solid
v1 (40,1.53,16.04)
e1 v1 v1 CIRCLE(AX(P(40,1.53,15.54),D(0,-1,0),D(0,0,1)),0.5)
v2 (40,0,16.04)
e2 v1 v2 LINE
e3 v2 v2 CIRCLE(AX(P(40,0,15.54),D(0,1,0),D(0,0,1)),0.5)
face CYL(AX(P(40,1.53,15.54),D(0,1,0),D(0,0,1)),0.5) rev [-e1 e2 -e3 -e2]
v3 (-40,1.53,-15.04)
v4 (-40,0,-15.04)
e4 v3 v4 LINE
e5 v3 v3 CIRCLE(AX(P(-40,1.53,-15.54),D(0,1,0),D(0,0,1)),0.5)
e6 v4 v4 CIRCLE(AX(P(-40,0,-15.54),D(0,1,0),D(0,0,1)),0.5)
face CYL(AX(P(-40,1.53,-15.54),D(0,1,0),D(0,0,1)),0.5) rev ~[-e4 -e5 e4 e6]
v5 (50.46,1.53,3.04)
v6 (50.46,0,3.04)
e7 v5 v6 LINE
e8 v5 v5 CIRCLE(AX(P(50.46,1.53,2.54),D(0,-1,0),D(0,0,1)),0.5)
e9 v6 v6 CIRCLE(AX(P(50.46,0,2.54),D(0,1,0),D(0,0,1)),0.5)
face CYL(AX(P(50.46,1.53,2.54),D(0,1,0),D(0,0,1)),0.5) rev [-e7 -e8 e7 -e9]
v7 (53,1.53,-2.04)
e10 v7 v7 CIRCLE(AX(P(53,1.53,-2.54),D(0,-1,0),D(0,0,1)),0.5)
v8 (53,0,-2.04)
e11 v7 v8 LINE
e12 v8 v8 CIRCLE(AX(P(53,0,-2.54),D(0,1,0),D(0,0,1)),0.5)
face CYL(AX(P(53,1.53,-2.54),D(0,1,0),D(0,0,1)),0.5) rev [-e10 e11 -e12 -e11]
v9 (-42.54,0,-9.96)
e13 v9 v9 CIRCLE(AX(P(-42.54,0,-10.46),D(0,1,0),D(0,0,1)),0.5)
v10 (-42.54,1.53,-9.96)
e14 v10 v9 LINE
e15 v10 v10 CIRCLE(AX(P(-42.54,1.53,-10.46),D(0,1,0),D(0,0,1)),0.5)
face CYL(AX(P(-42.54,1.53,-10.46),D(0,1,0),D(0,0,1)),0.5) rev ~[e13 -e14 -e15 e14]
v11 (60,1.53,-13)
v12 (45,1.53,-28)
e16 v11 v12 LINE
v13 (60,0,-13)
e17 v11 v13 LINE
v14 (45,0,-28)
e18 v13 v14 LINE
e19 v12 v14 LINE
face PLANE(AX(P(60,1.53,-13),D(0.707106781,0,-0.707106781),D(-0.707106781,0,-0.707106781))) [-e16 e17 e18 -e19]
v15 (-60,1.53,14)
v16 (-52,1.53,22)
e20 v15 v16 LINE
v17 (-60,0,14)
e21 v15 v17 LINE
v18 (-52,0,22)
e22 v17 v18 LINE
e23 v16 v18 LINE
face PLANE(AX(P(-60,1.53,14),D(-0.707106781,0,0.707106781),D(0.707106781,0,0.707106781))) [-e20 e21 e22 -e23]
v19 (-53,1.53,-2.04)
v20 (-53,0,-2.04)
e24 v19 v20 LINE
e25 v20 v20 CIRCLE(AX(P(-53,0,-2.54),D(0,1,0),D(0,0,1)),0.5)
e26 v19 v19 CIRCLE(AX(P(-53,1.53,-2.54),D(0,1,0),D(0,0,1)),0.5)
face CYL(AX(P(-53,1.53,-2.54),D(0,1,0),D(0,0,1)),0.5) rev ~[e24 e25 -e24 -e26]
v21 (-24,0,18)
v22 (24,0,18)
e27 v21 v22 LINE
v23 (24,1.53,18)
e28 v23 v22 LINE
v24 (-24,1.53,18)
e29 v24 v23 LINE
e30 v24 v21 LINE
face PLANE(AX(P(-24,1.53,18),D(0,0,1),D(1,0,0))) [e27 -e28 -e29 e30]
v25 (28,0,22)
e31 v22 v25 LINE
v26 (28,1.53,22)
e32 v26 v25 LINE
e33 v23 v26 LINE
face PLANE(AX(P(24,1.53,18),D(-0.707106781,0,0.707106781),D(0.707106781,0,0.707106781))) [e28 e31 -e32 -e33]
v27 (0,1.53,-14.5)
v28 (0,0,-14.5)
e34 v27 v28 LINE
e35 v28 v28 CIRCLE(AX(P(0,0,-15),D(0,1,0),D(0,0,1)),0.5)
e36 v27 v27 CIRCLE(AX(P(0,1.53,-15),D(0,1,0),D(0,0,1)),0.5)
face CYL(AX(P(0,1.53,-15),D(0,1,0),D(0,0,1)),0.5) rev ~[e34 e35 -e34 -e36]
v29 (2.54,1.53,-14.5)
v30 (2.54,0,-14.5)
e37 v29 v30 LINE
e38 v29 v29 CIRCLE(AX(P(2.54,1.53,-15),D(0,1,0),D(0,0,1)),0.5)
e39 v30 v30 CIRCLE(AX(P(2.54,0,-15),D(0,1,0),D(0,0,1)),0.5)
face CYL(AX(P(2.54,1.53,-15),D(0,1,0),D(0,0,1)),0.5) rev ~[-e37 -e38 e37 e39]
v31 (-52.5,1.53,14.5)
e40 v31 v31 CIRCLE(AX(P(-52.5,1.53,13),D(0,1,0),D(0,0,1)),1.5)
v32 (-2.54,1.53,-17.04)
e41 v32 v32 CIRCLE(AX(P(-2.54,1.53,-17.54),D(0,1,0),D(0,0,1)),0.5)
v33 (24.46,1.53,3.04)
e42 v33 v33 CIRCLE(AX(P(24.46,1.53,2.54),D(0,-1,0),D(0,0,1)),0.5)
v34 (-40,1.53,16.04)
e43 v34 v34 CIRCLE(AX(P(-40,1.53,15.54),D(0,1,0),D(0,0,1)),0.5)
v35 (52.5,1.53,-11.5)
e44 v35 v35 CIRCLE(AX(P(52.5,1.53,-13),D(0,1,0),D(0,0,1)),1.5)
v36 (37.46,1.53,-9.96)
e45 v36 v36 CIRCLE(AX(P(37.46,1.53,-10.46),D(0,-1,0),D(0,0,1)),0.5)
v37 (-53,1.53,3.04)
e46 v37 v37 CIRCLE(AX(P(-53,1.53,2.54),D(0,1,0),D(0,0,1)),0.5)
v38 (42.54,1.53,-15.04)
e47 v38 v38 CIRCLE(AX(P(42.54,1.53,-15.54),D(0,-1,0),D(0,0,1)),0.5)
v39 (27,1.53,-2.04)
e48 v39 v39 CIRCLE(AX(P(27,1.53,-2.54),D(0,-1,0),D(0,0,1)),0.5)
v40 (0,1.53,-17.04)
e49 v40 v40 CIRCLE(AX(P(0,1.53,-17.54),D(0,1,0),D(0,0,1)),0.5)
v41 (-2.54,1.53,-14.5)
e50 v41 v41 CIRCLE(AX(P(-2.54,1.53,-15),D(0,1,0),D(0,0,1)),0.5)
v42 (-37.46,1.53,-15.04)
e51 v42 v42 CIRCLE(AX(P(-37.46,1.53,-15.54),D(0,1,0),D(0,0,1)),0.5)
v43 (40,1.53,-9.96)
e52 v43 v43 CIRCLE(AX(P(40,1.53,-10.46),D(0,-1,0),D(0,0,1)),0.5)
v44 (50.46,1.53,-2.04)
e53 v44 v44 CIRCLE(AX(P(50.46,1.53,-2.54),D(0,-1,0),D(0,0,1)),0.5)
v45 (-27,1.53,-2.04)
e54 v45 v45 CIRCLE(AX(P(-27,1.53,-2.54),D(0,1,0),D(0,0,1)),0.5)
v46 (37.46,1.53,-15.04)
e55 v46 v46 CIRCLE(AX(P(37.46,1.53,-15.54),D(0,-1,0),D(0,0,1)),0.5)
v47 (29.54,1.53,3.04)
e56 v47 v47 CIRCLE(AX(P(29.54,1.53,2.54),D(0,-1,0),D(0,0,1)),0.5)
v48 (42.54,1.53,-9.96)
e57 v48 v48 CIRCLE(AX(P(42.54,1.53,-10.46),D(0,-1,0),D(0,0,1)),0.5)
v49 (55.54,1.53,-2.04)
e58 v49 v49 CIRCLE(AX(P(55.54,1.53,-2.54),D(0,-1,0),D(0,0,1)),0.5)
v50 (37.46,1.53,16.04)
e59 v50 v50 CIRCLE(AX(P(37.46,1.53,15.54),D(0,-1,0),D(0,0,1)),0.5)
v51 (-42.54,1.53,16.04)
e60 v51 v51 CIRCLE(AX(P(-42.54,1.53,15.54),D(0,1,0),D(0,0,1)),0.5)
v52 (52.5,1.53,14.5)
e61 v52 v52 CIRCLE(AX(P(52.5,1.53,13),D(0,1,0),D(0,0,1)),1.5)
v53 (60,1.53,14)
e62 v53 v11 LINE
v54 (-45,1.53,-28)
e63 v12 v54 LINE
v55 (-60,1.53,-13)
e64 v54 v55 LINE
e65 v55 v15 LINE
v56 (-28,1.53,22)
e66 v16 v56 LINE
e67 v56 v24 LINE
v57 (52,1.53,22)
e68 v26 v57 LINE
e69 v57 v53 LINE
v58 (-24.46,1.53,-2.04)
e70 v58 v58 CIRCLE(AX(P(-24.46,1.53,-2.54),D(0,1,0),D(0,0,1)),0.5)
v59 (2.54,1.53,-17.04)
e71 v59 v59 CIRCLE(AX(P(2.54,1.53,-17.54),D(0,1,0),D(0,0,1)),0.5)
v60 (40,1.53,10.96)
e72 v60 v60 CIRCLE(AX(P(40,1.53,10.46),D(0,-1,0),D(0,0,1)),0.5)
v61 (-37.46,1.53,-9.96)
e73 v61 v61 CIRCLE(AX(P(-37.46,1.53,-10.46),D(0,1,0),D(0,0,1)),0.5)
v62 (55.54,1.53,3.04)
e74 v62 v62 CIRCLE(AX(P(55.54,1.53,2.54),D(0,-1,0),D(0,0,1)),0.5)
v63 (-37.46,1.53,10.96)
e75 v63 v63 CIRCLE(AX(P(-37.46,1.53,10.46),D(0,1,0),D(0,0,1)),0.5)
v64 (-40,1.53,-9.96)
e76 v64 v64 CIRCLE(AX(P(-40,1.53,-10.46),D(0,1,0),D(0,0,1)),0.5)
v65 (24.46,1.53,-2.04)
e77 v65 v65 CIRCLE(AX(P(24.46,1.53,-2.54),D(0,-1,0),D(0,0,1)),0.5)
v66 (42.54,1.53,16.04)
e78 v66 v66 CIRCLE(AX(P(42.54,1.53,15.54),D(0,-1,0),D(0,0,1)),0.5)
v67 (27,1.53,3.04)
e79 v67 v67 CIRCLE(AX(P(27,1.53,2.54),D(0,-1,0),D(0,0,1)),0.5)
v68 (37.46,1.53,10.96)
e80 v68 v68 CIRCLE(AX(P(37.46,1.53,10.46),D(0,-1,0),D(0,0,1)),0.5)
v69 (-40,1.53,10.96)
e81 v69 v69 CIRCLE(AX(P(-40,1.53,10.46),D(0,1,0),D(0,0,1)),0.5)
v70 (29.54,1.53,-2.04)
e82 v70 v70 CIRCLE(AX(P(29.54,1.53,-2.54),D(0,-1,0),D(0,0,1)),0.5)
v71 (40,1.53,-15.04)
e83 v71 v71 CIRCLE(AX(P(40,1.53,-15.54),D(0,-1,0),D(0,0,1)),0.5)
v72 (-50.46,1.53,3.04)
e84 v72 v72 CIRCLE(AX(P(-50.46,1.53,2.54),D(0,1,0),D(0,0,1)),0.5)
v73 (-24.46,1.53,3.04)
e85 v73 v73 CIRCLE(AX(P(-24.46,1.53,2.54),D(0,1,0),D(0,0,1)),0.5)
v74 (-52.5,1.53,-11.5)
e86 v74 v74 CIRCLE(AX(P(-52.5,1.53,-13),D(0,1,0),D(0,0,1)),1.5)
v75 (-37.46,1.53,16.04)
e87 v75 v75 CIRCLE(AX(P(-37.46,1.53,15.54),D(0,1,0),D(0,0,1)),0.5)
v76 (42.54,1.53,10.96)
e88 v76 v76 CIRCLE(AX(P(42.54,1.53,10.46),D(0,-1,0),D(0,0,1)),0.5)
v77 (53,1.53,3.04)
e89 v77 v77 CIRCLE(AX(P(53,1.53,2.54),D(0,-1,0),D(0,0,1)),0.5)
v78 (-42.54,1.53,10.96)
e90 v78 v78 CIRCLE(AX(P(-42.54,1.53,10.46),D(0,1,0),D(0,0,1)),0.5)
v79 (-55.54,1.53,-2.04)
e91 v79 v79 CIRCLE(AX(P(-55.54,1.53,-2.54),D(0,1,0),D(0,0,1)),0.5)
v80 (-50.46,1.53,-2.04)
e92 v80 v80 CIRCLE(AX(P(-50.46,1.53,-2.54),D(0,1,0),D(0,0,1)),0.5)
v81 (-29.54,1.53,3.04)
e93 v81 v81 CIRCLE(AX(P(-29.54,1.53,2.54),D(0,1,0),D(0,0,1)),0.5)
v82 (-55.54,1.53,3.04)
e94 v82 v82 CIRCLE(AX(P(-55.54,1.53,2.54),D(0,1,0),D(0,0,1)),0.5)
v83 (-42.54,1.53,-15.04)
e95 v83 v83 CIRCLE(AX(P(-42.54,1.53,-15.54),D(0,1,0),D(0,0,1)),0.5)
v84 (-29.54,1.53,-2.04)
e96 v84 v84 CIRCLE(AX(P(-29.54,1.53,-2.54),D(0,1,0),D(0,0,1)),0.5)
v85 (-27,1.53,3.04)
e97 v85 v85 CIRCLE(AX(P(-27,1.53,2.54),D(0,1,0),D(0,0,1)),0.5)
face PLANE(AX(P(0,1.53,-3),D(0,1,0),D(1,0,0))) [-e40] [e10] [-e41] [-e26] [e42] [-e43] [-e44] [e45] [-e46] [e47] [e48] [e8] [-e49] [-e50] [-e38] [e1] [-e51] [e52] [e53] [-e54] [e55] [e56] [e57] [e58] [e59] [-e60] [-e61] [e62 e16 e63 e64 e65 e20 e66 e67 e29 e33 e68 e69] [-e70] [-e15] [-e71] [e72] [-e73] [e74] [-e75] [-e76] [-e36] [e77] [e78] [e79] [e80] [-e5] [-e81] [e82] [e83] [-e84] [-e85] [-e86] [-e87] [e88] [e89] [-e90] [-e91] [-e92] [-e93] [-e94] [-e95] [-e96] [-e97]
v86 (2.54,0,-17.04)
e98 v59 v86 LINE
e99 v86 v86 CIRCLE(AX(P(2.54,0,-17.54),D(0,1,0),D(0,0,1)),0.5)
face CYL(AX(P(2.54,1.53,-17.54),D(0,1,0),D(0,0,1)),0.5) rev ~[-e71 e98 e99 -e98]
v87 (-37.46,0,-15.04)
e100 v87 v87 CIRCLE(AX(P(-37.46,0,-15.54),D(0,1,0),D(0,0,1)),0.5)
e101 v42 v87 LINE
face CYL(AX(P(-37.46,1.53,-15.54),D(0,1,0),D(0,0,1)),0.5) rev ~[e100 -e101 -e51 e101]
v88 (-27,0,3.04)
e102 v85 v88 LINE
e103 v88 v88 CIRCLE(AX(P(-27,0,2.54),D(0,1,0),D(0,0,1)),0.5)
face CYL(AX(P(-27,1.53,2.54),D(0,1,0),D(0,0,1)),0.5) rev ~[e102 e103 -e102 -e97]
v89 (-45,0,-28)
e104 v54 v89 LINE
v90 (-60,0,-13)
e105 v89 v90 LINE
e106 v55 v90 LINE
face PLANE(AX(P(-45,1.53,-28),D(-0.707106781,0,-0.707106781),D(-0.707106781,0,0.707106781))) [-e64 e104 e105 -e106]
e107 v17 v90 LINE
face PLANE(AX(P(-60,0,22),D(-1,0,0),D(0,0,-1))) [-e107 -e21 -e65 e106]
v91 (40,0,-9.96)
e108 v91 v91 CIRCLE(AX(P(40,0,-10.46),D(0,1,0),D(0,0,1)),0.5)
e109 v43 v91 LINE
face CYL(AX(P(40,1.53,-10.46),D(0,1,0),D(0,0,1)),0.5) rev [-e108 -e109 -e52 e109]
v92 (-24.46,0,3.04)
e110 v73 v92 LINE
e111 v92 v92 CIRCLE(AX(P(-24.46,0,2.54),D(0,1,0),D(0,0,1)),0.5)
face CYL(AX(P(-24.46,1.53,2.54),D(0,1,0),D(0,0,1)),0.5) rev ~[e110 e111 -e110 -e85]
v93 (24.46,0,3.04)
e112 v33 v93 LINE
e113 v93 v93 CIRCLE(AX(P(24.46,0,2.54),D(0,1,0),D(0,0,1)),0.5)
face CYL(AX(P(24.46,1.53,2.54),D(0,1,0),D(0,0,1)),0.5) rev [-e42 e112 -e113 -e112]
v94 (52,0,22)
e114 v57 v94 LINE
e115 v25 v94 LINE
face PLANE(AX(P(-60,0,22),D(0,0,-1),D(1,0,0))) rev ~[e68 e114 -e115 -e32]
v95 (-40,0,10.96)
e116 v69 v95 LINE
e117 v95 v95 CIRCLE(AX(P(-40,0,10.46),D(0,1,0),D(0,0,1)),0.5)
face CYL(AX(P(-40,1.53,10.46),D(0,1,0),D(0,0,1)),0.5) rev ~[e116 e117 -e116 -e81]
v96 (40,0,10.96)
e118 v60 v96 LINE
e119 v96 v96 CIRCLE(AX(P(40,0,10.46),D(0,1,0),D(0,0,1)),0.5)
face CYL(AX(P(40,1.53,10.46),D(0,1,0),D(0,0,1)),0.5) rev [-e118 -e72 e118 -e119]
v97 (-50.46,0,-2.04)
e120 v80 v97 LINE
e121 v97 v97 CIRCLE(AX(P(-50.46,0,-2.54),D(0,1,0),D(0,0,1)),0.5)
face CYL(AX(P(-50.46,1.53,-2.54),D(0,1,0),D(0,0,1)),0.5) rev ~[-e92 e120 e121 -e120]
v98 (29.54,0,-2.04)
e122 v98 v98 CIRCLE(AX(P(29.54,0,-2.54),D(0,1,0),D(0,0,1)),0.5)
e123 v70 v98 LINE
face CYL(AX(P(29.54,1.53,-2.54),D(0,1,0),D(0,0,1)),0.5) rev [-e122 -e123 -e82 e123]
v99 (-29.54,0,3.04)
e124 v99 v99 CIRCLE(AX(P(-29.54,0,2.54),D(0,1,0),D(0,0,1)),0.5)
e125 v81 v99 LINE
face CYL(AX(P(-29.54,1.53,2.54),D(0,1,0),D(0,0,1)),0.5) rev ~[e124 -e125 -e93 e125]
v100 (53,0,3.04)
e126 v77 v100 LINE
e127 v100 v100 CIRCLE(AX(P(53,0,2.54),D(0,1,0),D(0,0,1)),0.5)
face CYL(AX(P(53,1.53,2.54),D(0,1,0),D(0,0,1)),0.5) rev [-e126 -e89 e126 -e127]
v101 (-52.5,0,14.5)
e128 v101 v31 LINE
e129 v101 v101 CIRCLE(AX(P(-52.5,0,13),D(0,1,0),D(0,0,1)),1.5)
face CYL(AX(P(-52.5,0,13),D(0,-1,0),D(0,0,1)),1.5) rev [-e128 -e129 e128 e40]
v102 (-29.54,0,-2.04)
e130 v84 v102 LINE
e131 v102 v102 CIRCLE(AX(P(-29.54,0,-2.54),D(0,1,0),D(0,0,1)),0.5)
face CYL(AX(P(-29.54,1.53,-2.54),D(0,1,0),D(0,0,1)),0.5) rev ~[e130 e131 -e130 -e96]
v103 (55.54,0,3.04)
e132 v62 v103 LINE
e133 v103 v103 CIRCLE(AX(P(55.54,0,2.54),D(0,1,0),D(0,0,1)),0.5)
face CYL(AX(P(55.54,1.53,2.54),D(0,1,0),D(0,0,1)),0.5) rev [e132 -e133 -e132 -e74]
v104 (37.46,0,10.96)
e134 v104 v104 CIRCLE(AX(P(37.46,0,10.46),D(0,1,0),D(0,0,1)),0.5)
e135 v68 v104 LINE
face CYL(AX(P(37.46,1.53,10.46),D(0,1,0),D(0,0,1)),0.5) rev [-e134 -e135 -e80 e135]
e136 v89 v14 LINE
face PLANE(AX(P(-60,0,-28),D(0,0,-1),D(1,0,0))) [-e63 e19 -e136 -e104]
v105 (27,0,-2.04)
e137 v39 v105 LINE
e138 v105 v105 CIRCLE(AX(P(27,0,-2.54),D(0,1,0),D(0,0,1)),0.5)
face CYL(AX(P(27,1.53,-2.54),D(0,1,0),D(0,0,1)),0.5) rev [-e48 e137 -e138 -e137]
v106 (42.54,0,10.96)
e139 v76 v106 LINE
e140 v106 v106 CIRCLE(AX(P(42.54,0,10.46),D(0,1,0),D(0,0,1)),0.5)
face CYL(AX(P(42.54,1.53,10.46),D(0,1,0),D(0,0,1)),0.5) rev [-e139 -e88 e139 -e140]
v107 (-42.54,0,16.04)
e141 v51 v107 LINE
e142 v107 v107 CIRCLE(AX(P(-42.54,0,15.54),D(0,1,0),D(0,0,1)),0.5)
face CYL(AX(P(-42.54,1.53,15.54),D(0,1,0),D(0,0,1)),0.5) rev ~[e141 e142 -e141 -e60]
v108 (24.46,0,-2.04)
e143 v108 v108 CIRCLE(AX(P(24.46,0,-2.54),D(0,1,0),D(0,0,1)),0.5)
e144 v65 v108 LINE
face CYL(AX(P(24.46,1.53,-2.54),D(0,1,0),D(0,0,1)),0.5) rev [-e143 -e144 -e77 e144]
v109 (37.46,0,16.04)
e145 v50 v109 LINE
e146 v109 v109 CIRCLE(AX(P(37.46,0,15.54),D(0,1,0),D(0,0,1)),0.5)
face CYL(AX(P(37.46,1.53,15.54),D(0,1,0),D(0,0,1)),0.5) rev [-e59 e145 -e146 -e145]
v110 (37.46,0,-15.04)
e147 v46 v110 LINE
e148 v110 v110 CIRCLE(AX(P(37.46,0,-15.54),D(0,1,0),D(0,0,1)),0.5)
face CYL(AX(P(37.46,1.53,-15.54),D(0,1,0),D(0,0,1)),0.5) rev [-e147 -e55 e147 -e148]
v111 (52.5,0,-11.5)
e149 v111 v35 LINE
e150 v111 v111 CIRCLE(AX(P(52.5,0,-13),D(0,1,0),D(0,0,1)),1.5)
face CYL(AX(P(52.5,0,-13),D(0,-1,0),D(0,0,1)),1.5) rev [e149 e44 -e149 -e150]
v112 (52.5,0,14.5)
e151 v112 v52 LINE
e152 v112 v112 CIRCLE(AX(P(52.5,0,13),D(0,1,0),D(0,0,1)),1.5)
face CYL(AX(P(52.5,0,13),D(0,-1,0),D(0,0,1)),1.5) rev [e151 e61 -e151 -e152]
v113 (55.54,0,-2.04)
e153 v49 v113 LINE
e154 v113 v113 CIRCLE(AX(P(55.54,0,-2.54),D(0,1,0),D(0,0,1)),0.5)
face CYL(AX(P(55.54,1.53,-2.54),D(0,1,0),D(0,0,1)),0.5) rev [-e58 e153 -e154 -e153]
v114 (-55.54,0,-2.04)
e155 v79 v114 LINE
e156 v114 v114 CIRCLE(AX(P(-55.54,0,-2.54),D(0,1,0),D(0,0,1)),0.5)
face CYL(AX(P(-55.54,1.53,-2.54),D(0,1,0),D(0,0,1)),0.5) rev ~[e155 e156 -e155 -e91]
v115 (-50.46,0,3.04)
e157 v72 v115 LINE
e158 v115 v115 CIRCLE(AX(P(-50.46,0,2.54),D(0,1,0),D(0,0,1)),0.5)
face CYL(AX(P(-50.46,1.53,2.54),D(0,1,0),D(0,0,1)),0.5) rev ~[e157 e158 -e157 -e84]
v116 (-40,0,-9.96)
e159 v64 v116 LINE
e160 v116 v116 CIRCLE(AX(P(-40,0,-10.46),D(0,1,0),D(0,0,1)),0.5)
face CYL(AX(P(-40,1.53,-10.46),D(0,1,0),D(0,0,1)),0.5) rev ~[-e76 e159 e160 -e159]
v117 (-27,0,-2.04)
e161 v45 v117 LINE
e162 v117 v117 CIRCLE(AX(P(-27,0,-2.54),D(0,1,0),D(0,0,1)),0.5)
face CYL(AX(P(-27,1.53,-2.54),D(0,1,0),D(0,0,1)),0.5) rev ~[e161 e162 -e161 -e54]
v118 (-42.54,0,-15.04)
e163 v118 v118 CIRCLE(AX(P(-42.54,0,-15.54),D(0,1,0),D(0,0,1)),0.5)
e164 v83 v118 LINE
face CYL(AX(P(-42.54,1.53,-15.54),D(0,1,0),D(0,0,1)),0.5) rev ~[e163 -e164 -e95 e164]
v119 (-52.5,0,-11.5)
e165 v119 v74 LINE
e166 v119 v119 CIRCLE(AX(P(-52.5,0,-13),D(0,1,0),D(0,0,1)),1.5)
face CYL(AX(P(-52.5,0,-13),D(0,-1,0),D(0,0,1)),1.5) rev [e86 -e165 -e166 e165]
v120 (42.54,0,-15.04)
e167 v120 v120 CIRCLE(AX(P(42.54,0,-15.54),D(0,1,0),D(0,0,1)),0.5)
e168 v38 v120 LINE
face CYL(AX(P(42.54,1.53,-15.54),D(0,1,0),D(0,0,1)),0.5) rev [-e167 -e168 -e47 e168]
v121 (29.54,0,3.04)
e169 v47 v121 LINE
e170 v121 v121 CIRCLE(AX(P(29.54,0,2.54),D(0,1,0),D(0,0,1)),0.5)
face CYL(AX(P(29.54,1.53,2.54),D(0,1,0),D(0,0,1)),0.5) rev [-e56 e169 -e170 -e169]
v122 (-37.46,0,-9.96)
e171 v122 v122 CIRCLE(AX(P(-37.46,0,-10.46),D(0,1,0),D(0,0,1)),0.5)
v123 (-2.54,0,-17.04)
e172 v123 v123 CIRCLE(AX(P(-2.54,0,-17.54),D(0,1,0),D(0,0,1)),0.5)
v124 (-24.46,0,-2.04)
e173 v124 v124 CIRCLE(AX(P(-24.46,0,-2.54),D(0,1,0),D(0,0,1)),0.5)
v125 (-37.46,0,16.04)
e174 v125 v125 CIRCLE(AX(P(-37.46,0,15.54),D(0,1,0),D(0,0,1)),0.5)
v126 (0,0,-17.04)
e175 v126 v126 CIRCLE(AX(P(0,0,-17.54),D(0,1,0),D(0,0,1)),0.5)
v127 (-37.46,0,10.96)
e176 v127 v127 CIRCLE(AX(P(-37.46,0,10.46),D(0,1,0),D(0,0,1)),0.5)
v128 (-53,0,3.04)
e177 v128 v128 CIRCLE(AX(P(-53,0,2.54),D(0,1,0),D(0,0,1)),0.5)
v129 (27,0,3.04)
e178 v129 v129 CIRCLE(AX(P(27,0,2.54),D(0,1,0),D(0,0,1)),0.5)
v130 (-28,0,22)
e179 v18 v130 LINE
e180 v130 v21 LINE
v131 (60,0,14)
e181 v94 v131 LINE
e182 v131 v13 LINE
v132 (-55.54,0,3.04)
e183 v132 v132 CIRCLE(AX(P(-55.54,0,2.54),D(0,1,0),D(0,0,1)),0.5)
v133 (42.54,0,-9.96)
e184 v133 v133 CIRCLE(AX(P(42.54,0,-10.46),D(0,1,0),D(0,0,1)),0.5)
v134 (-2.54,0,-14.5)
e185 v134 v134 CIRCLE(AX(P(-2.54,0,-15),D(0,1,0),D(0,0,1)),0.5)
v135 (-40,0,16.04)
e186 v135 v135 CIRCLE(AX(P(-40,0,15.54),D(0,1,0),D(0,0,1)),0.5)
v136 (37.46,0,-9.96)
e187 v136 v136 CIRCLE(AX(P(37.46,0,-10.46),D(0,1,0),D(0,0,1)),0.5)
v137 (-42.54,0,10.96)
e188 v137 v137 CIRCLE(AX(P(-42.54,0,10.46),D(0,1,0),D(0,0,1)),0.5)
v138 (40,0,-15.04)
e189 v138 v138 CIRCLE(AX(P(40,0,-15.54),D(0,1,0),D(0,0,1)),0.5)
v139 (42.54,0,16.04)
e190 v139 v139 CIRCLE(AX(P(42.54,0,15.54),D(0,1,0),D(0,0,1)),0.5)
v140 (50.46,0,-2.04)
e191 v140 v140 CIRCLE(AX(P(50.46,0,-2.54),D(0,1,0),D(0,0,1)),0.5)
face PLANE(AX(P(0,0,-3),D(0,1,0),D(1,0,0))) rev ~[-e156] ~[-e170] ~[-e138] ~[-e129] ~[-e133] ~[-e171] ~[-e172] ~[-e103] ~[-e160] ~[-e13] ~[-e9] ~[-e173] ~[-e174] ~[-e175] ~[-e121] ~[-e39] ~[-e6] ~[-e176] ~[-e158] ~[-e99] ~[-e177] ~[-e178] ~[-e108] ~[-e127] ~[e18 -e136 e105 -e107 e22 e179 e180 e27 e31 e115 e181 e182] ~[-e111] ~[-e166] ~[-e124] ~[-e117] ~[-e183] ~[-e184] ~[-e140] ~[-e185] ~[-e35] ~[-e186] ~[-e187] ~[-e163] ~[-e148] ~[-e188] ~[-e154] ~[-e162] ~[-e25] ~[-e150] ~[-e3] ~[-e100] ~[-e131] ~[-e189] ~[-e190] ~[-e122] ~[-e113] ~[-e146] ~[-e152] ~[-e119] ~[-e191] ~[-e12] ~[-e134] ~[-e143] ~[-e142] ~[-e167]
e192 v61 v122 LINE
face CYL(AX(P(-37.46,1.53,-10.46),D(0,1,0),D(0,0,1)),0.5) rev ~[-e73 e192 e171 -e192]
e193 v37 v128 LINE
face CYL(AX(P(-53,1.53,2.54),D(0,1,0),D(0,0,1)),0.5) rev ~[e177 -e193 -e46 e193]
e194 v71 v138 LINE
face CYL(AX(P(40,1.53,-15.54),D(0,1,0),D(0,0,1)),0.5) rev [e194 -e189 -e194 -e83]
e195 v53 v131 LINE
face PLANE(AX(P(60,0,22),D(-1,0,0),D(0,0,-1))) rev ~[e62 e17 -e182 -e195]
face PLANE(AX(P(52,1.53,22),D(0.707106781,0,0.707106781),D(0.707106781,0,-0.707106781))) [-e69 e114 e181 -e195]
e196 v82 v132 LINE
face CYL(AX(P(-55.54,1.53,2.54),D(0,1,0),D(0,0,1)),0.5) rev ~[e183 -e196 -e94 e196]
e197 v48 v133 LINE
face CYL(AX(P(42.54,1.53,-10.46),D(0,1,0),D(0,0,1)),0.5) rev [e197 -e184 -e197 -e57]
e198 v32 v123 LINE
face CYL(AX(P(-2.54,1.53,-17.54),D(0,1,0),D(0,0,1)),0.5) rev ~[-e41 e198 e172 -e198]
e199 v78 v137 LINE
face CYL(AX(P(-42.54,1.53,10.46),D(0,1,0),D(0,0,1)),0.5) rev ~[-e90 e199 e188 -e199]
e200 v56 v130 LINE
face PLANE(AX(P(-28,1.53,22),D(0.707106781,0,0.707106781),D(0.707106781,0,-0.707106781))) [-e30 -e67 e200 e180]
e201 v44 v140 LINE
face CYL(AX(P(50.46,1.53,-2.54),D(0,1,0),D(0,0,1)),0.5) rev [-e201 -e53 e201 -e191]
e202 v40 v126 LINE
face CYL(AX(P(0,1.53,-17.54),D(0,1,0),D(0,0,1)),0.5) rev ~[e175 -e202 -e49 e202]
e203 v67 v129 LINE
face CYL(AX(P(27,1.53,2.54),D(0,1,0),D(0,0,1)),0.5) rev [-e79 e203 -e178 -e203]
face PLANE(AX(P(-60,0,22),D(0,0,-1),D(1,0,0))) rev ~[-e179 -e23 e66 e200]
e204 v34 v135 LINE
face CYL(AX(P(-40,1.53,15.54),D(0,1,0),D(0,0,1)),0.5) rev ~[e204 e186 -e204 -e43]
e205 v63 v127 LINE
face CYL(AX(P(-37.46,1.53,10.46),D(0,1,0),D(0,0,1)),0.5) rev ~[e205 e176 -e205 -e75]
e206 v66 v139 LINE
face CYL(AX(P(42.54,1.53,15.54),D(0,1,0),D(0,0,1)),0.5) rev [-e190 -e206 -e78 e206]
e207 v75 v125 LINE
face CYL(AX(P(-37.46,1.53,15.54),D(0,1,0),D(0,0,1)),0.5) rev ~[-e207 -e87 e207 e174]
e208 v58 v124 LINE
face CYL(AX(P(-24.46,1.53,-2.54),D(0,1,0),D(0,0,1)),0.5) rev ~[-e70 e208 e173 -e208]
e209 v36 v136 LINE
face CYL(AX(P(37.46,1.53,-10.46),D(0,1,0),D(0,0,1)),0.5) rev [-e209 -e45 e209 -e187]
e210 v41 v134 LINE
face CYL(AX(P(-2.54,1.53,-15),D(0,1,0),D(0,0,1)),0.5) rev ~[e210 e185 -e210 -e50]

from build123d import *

# Parameters (mm, degrees)
SKETCH1_W           = 120
SKETCH1_H           = 50
SKETCH1_R           = 1.5
BOSS_EXTRUDE1_DEPTH = 1.53
SKETCH2_R           = 0.5
CUT_EXTRUDE1_DEPTH  = 67.229456437
SKETCH5_R           = 0.5
CUT_EXTRUDE2_DEPTH  = 67.229456437
SKETCH6_W           = 141.050966046
SKETCH6_H           = 69.53153639
CUT_EXTRUDE4_DEPTH  = 67.229456437


with BuildPart() as part:
    # Sketch1 → Boss-Extrude1 (new body)
    with BuildSketch(Plane(origin=(0, 0, 0), x_dir=(1, 0, 0), z_dir=(0, 1, 0))):
        with Locations((0, 3)):
            Rectangle(SKETCH1_W, SKETCH1_H)
        with Locations(Location((52.5, 13, 0), (0, 0, 270))):
            Circle(SKETCH1_R, mode=Mode.SUBTRACT)
        with Locations(Location((52.5, -13, 0), (0, 0, 270))):
            Circle(SKETCH1_R, mode=Mode.SUBTRACT)
        with Locations(Location((-52.5, -13, 0), (0, 0, 270))):
            Circle(SKETCH1_R, mode=Mode.SUBTRACT)
        with Locations(Location((-52.5, 13, 0), (0, 0, 270))):
            Circle(SKETCH1_R, mode=Mode.SUBTRACT)
    extrude(amount=BOSS_EXTRUDE1_DEPTH)

    # Sketch2 → Cut-Extrude1 (cut, through all)
    with BuildSketch(Plane(origin=(0, 1.53, 0), x_dir=(1, 0, 0), z_dir=(0, 1, 0))):
        with Locations(Location((-55.54, 2.54, 0), (0, 0, 270))):
            Circle(SKETCH2_R)
        with Locations(Location((-53, 2.54, 0), (0, 0, 270))):
            Circle(SKETCH2_R)
        with Locations(Location((-50.46, 2.54, 0), (0, 0, 270))):
            Circle(SKETCH2_R)
        with Locations(Location((-55.54, -2.54, 0), (0, 0, 270))):
            Circle(SKETCH2_R)
        with Locations(Location((-53, -2.54, 0), (0, 0, 270))):
            Circle(SKETCH2_R)
        with Locations(Location((-50.46, -2.54, 0), (0, 0, 270))):
            Circle(SKETCH2_R)
        with Locations(Location((-29.54, 2.54, 0), (0, 0, 270))):
            Circle(SKETCH2_R)
        with Locations(Location((-27, 2.54, 0), (0, 0, 270))):
            Circle(SKETCH2_R)
        with Locations(Location((-24.46, 2.54, 0), (0, 0, 270))):
            Circle(SKETCH2_R)
        with Locations(Location((-29.54, -2.54, 0), (0, 0, 270))):
            Circle(SKETCH2_R)
        with Locations(Location((-27, -2.54, 0), (0, 0, 270))):
            Circle(SKETCH2_R)
        with Locations(Location((-24.46, -2.54, 0), (0, 0, 270))):
            Circle(SKETCH2_R)
        with Locations(Location((-42.54, 15.54, 0), (0, 0, 270))):
            Circle(SKETCH2_R)
        with Locations(Location((-40, 15.54, 0), (0, 0, 270))):
            Circle(SKETCH2_R)
        with Locations(Location((-37.46, 15.54, 0), (0, 0, 270))):
            Circle(SKETCH2_R)
        with Locations(Location((-42.54, 10.46, 0), (0, 0, 270))):
            Circle(SKETCH2_R)
        with Locations(Location((-40, 10.46, 0), (0, 0, 270))):
            Circle(SKETCH2_R)
        with Locations(Location((-37.46, 10.46, 0), (0, 0, 270))):
            Circle(SKETCH2_R)
        with Locations(Location((-42.54, -10.46, 0), (0, 0, 270))):
            Circle(SKETCH2_R)
        with Locations(Location((-40, -10.46, 0), (0, 0, 270))):
            Circle(SKETCH2_R)
        with Locations(Location((-37.46, -10.46, 0), (0, 0, 270))):
            Circle(SKETCH2_R)
        with Locations(Location((-42.54, -15.54, 0), (0, 0, 270))):
            Circle(SKETCH2_R)
        with Locations(Location((-40, -15.54, 0), (0, 0, 270))):
            Circle(SKETCH2_R)
        with Locations(Location((-37.46, -15.54, 0), (0, 0, 270))):
            Circle(SKETCH2_R)
    cut_extrude1 = extrude(amount=-CUT_EXTRUDE1_DEPTH, mode=Mode.SUBTRACT)

    # Mirror1: Cut-Extrude1 across plane
    add(cut_extrude1.mirror(Plane(origin=(0, 0, 0), x_dir=(0, 0, 1), z_dir=(1, 0, 0))), mode=Mode.SUBTRACT)

    # Sketch5 → Cut-Extrude2 (cut, through all)
    with BuildSketch(Plane(origin=(0, 1.53, 0), x_dir=(1, 0, 0), z_dir=(0, 1, 0))):
        with Locations(Location((-2.54, 17.54, 0), (0, 0, 270))):
            Circle(SKETCH5_R)
        with Locations(Location((0, 17.54, 0), (0, 0, 270))):
            Circle(SKETCH5_R)
        with Locations(Location((2.54, 17.54, 0), (0, 0, 270))):
            Circle(SKETCH5_R)
        with Locations(Location((-2.54, 15, 0), (0, 0, 270))):
            Circle(SKETCH5_R)
        with Locations(Location((0, 15, 0), (0, 0, 270))):
            Circle(SKETCH5_R)
        with Locations(Location((2.54, 15, 0), (0, 0, 270))):
            Circle(SKETCH5_R)
    extrude(amount=-CUT_EXTRUDE2_DEPTH, mode=Mode.SUBTRACT)

    # Sketch6 → Cut-Extrude4 (cut, through all)
    with BuildSketch(Plane(origin=(0, 1.53, 0), x_dir=(1, 0, 0), z_dir=(0, 1, 0))):
        Rectangle(SKETCH6_W, SKETCH6_H)
        Polygon((-45, 28), (-60, 13), (-60, -14), (-52, -22), (-28, -22), (-24, -18), (24, -18), (28, -22), (52, -22), (60, -14), (60, 13), (45, 28), align=None, mode=Mode.SUBTRACT)
    extrude(amount=-CUT_EXTRUDE4_DEPTH, mode=Mode.SUBTRACT)


solid = part.part
